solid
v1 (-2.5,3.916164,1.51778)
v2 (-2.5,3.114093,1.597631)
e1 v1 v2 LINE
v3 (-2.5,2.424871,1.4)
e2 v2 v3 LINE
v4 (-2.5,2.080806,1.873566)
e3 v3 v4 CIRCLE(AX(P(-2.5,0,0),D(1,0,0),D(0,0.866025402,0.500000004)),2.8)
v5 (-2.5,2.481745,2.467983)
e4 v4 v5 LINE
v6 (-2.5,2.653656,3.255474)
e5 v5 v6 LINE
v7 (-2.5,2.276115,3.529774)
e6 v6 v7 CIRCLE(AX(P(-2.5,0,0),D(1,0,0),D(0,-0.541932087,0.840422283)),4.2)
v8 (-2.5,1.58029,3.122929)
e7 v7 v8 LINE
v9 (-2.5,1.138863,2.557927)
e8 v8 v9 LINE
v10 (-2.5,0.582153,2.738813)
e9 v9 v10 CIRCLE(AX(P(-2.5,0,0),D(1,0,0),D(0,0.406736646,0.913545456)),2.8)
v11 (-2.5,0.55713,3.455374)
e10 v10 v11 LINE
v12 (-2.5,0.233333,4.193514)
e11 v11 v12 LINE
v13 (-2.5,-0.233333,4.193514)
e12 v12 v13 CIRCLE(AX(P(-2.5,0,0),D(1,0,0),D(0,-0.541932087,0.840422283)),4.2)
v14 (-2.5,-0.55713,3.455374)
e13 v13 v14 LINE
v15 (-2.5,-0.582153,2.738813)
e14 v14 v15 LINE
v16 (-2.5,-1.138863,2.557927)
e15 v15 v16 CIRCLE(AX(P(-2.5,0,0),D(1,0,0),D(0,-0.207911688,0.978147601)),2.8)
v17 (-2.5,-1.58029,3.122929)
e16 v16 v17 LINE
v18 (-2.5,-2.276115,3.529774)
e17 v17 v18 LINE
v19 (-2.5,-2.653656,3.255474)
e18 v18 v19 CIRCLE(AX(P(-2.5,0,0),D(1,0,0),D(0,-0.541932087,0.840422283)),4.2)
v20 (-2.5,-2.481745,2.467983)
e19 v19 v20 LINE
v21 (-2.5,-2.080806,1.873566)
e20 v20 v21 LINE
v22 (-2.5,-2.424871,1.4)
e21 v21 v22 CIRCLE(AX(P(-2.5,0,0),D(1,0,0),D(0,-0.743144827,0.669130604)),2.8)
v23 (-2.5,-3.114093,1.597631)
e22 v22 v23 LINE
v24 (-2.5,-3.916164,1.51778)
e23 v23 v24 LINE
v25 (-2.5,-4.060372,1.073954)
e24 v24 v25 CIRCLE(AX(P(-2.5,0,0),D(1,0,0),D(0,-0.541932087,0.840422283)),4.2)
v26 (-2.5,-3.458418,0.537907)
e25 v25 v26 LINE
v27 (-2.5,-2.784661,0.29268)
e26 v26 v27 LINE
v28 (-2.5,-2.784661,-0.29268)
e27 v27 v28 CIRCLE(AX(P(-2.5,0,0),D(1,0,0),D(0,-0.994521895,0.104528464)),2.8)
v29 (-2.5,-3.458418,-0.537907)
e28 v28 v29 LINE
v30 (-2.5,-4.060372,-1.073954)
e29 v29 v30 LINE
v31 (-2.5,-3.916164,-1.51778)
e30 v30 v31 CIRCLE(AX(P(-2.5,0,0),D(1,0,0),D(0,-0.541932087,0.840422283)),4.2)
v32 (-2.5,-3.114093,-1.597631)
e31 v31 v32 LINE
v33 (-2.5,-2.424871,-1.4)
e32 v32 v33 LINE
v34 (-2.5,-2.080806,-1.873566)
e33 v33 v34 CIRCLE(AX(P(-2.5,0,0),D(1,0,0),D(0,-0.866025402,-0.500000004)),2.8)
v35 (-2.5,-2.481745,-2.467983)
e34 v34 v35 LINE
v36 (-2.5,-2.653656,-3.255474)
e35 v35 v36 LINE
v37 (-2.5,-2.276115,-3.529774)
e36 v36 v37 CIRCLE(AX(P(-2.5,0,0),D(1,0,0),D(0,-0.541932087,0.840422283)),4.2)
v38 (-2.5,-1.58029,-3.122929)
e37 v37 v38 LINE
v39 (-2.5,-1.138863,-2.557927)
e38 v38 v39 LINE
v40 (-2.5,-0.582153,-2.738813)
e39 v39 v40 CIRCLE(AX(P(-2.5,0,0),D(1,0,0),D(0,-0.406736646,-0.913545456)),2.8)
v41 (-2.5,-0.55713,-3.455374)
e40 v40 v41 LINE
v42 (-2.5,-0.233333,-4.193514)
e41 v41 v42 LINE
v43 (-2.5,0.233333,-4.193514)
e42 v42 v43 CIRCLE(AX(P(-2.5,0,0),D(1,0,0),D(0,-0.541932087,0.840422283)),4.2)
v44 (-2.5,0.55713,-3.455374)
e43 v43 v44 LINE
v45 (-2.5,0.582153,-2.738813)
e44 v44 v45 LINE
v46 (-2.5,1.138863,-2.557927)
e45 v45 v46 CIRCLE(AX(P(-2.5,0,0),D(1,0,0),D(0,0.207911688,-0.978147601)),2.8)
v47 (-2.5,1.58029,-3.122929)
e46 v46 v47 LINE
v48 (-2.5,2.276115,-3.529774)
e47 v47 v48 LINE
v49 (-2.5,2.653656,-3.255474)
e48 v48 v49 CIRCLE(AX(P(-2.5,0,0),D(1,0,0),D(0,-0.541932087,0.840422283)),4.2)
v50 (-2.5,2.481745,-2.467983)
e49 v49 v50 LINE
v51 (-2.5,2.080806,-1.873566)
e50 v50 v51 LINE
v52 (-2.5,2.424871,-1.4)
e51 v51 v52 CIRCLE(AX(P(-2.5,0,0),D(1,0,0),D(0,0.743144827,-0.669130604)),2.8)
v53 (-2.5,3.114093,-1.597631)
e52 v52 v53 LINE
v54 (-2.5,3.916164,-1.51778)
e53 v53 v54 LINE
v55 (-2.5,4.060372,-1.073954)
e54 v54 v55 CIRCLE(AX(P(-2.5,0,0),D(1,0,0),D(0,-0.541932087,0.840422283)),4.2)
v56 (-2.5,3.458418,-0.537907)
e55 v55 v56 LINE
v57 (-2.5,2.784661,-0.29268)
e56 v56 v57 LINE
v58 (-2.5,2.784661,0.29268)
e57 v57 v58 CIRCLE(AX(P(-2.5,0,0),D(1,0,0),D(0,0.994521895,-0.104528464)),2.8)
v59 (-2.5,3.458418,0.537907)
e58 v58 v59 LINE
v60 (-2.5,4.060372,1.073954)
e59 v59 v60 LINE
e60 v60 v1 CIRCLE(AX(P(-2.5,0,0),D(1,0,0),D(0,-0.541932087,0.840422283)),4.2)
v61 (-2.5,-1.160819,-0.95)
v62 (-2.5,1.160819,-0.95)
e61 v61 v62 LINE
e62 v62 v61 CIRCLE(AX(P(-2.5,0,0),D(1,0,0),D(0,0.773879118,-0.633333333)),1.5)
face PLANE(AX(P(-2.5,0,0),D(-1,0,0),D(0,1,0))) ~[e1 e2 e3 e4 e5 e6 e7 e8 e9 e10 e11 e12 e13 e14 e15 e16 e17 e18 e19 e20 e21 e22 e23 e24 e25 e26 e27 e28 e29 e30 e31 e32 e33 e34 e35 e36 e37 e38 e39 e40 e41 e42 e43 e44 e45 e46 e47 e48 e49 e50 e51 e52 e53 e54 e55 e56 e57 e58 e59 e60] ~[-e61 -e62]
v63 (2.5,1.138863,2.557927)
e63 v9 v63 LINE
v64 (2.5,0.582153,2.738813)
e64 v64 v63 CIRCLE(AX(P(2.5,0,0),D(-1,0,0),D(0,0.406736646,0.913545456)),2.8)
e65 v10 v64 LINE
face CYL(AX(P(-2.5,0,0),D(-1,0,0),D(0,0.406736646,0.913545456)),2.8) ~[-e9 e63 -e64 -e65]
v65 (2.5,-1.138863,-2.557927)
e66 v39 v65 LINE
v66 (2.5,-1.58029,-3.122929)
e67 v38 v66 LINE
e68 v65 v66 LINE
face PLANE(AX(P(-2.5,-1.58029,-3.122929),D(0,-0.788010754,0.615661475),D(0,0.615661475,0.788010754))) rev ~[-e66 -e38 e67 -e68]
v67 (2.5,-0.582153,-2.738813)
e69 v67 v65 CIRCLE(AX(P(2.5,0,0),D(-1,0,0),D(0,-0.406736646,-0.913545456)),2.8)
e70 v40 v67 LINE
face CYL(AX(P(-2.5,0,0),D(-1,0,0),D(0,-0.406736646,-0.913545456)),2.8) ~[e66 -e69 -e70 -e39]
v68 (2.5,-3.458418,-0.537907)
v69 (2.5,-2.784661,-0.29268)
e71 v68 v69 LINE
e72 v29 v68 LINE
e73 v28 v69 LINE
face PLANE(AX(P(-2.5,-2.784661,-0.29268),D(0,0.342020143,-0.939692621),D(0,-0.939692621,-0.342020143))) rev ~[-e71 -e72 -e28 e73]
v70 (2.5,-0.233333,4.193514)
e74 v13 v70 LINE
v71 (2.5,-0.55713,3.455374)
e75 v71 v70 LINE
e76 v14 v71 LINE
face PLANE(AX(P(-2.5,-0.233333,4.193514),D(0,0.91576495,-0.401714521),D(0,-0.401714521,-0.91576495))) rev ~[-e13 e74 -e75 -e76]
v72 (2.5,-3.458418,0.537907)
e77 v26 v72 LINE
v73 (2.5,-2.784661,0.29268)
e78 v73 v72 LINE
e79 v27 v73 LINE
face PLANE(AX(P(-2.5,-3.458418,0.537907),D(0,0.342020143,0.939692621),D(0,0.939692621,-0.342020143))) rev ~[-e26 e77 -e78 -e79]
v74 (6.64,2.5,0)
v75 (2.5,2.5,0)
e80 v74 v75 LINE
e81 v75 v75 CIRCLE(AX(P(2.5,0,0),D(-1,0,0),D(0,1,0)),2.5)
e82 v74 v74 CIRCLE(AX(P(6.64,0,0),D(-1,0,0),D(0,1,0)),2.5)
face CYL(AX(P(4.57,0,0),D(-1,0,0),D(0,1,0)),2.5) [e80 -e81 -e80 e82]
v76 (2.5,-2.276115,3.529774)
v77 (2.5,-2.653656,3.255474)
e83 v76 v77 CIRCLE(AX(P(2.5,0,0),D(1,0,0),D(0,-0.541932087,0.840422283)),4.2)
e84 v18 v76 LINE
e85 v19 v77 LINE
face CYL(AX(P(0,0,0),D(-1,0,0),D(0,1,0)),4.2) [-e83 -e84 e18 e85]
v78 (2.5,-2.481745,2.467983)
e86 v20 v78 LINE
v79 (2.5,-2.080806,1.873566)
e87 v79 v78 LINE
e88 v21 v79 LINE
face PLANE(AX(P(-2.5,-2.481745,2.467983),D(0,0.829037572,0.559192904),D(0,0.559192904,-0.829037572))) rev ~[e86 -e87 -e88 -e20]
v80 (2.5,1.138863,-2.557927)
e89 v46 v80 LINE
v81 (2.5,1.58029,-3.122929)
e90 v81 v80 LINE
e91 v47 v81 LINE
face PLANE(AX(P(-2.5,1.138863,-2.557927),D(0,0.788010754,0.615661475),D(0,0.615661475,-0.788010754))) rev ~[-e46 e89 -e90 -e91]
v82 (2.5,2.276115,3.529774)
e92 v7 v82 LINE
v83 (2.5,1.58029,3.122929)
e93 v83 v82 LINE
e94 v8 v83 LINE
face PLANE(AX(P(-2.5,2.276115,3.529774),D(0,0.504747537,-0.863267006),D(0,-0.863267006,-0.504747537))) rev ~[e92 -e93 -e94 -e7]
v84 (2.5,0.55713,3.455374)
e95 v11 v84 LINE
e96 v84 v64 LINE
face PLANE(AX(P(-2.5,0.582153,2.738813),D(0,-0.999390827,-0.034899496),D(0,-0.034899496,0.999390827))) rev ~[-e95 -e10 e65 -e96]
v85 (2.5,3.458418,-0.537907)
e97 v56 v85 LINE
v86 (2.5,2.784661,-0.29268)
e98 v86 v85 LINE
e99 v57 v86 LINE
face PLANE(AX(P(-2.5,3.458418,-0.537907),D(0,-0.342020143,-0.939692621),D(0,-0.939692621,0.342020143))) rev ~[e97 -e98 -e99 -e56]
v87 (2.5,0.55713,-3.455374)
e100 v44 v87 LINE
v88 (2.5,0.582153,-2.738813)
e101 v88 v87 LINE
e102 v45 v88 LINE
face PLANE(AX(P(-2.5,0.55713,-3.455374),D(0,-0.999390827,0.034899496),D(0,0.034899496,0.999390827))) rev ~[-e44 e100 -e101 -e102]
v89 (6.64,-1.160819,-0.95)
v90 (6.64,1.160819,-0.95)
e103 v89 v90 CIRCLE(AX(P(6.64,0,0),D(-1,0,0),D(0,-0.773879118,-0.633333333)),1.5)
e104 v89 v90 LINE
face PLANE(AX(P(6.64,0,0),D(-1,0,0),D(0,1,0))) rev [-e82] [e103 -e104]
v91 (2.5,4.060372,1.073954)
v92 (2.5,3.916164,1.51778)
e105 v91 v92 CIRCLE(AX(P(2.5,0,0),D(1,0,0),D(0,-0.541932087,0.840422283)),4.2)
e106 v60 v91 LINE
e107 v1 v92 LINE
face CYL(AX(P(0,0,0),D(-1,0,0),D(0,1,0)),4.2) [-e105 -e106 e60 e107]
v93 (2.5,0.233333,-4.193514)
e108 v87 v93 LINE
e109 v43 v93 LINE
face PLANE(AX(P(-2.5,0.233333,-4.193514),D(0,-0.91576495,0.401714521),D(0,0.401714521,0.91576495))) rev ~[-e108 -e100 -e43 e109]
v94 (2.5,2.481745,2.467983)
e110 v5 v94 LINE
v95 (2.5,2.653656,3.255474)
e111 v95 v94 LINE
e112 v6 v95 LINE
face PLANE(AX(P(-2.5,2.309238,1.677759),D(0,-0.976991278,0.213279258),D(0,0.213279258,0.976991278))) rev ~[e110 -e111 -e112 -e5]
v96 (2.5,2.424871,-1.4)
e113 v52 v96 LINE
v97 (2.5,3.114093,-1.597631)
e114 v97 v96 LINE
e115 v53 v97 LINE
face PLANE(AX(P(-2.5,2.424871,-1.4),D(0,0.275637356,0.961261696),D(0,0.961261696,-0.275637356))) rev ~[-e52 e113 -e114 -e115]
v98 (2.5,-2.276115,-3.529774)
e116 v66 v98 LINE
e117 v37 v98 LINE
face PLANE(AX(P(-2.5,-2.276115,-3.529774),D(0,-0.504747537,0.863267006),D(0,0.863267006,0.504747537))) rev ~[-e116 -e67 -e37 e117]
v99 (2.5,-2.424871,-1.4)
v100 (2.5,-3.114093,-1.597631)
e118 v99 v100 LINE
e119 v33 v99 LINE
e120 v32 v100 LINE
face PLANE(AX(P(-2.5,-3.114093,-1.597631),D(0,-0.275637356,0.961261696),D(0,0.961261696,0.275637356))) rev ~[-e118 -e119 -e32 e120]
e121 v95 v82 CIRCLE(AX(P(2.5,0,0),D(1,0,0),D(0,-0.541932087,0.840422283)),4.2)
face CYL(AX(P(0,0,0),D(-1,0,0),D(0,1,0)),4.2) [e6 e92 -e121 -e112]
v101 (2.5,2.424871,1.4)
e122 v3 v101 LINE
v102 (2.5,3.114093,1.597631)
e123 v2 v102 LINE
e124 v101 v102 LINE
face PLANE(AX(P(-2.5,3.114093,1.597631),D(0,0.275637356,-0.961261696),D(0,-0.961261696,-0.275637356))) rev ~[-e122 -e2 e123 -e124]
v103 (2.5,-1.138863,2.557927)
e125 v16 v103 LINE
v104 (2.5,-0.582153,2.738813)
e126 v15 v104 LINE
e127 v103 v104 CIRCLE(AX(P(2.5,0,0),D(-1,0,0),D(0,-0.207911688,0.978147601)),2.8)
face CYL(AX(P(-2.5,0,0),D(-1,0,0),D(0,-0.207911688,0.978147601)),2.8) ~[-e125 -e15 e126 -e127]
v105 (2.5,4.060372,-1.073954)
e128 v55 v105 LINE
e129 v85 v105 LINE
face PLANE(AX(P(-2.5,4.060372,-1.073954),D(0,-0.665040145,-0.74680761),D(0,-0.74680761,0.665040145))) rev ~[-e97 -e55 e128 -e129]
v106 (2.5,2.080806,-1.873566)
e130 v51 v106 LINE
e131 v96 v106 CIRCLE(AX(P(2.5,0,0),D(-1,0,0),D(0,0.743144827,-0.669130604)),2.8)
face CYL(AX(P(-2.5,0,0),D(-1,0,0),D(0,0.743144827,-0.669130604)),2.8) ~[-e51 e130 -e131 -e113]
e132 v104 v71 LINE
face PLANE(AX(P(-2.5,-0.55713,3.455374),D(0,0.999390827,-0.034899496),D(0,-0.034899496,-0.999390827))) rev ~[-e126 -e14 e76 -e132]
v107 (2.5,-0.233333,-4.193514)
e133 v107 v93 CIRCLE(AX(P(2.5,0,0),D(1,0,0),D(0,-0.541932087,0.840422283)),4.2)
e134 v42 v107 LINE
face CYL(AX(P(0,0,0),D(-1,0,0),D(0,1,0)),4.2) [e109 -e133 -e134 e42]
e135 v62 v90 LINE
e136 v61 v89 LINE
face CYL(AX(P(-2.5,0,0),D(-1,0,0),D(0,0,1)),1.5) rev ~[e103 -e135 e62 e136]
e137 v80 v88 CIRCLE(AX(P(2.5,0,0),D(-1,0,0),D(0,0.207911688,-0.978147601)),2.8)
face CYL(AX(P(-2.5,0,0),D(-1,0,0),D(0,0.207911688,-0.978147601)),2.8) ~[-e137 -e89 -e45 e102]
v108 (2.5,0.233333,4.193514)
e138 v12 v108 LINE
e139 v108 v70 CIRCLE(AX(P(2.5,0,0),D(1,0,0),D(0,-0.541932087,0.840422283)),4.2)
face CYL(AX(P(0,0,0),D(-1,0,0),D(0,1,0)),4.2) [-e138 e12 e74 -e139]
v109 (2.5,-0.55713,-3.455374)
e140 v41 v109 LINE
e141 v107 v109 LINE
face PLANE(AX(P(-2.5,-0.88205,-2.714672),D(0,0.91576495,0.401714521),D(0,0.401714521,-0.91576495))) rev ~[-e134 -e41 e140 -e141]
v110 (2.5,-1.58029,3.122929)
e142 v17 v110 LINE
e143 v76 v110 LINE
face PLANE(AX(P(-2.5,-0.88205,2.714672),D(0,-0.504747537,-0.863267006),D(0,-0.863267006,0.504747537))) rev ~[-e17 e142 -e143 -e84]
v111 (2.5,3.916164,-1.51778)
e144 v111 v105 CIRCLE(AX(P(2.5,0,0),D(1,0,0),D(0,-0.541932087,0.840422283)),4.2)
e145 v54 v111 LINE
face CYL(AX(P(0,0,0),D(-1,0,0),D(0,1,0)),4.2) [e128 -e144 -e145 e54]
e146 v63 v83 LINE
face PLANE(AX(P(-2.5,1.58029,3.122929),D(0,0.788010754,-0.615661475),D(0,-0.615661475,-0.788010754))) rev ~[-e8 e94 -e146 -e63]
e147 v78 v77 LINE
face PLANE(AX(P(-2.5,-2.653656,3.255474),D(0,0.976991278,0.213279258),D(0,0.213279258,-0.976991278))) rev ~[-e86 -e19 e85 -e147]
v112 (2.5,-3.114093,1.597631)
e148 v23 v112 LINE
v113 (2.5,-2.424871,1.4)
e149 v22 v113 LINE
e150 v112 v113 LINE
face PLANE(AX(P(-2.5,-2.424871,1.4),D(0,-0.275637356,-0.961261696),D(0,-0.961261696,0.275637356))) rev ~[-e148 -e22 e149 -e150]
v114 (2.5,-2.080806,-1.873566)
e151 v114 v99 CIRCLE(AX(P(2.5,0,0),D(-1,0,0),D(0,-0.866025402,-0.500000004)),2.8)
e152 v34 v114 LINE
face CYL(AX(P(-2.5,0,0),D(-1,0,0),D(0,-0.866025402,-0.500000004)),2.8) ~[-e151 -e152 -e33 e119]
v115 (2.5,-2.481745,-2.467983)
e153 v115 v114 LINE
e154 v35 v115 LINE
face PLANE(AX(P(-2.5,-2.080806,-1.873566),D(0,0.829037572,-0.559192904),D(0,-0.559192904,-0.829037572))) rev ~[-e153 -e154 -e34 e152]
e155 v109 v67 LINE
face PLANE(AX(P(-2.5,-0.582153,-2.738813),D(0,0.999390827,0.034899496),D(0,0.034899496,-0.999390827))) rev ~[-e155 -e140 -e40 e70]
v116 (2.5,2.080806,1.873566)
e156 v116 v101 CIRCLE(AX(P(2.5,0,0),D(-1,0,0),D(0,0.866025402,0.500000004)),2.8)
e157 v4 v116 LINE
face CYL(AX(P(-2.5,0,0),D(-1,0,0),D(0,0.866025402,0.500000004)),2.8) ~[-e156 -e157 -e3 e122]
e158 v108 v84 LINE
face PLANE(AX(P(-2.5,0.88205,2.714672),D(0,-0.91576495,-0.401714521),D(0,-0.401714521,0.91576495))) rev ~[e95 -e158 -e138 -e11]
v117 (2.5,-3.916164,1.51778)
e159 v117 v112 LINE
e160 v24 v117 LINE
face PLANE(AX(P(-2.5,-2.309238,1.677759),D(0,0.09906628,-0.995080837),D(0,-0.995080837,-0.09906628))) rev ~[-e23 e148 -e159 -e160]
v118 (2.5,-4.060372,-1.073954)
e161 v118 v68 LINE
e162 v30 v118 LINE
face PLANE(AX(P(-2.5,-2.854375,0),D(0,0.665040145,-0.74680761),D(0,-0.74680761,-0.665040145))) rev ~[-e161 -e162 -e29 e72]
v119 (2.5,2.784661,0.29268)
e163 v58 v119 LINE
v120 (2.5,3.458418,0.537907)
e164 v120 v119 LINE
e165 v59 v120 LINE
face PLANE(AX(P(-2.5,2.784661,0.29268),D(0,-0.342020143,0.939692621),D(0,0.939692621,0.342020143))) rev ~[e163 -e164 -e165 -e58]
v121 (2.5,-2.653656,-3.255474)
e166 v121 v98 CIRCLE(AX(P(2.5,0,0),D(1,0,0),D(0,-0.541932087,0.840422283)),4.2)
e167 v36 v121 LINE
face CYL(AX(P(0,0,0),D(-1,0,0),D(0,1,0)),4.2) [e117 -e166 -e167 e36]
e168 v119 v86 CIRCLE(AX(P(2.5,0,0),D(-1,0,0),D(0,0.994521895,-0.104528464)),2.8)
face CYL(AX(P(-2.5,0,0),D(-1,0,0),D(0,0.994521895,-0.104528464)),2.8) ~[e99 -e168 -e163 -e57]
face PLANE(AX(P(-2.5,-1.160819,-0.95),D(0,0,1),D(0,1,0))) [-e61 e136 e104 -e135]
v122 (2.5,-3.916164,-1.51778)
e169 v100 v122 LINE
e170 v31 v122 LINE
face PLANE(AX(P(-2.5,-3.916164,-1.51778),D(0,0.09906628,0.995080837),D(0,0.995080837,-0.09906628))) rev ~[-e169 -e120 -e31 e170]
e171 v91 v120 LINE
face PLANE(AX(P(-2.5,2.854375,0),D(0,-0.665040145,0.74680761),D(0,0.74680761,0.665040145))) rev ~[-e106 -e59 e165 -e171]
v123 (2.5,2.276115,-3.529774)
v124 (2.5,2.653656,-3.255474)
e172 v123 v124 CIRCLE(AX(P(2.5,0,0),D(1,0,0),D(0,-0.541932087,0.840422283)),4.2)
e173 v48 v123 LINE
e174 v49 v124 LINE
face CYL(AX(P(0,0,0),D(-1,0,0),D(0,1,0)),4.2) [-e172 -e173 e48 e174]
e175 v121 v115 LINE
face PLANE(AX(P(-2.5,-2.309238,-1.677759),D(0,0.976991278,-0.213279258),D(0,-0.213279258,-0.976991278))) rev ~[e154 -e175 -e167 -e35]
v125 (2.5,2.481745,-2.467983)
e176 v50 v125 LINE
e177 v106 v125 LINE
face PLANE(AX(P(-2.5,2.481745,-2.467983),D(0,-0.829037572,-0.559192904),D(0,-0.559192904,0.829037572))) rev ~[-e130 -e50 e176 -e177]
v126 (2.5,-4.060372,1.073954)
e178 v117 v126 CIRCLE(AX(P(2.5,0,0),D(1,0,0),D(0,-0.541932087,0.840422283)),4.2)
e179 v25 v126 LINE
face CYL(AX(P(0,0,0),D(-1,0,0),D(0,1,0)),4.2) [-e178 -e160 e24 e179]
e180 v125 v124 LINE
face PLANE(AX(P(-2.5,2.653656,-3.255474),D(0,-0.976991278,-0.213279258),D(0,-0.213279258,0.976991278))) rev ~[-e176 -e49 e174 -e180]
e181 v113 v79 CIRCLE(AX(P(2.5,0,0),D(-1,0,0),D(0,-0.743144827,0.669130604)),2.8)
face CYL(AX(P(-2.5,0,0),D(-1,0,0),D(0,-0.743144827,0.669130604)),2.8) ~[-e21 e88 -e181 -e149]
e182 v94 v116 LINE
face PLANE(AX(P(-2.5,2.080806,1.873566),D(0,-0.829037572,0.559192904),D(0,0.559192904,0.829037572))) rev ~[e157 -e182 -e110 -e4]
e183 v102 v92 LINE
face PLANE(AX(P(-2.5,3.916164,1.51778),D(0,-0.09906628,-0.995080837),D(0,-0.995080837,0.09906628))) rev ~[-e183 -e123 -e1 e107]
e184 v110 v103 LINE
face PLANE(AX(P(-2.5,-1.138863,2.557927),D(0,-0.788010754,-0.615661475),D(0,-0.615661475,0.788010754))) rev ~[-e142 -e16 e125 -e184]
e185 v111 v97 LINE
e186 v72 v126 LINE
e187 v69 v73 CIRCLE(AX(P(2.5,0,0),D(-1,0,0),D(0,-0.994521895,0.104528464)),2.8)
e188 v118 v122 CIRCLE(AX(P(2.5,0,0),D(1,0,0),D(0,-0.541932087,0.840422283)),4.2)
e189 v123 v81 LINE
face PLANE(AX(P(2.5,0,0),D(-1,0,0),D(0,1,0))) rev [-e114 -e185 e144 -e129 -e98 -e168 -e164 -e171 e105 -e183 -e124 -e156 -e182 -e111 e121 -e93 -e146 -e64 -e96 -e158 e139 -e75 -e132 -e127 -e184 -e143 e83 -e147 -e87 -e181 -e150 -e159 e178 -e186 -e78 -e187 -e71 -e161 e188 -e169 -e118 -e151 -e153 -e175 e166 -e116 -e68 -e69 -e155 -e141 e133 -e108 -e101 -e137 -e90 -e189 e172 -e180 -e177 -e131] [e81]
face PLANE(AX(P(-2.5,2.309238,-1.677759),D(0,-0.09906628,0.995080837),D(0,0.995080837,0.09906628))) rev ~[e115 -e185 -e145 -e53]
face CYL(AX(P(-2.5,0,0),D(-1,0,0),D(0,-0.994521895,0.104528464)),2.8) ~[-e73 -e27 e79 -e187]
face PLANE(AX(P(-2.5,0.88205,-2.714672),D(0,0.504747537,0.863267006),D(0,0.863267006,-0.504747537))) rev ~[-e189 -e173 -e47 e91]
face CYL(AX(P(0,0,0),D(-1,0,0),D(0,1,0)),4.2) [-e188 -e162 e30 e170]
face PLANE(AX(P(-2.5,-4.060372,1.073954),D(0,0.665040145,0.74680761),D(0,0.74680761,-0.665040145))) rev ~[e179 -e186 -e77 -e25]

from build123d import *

# Parameters (mm, degrees)
ESQUISSE1_W              = 5
ESQUISSE1_H              = 4.2
ENL_V_MAT_EXTRU_1_DEPTH  = 6
ENL_V_MAT_EXTRU_2_DEPTH  = 6
ENL_V_MAT_EXTRU_3_DEPTH  = 6
ENL_V_MAT_EXTRU_4_DEPTH  = 6
ENL_V_MAT_EXTRU_5_DEPTH  = 6
ENL_V_MAT_EXTRU_6_DEPTH  = 6
ENL_V_MAT_EXTRU_7_DEPTH  = 6
ENL_V_MAT_EXTRU_8_DEPTH  = 6
ENL_V_MAT_EXTRU_9_DEPTH  = 6
ENL_V_MAT_EXTRU_10_DEPTH = 6
ENL_V_MAT_EXTRU_11_DEPTH = 6
ENL_V_MAT_EXTRU_12_DEPTH = 6
ENL_V_MAT_EXTRU_13_DEPTH = 6
ENL_V_MAT_EXTRU_14_DEPTH = 6
ENL_V_MAT_EXTRU_15_DEPTH = 6
ENL_V_MAT_EXTRU_16_DEPTH = 6
ENL_V_MAT_EXTRU_17_DEPTH = 6
ENL_V_MAT_EXTRU_18_DEPTH = 6
ENL_V_MAT_EXTRU_19_DEPTH = 6
ENL_V_MAT_EXTRU_20_DEPTH = 6
ESQUISSE22_W             = 4.14
ESQUISSE22_H             = 2.5
ESQUISSE29_R             = 1.5
ENL_V_MAT_EXTRU_21_DEPTH = 10
BOSS_EXTRU_1_DEPTH       = 9.14


with BuildPart() as part:
    # Esquisse1 → Révolution1 (revolve)
    with BuildSketch(Plane(origin=(0, 0, 0), x_dir=(-1, 0, 0), z_dir=(0, 0, -1))):
        with Locations((0, 2.1)):
            Rectangle(ESQUISSE1_W, ESQUISSE1_H)
    revolve(axis=Axis((2.5, 0, 0), (-1, 0, 0)))

    # Esquisse2 → Enlèv. mat.-Extru.1 (cut, through all)
    with BuildSketch(Plane.ZY.offset(2.5)):
        with BuildLine():
            Line((4.19351351, -0.233333333), (2.714671649, -0.882050288))
            Line((2.714671649, -0.882050288), (3.529773588, -2.276114764))
            ThreePointArc((3.529773588, -2.276114764), (3.994437368, -1.297871376), (4.19351351, -0.233333333))
        make_face()
    extrude(amount=-ENL_V_MAT_EXTRU_1_DEPTH, mode=Mode.SUBTRACT)

    # Esquisse3 → Enlèv. mat.-Extru.2 (cut, through all)
    with BuildSketch(Plane.ZY.offset(2.5)):
        with BuildLine():
            Line((2.557927281, -1.138862601), (3.122928651, -1.58029005))
            Line((3.122928651, -1.58029005), (2.714671649, -0.882050288))
            Line((2.714671649, -0.882050288), (3.455373536, -0.557129899))
            Line((3.455373536, -0.557129899), (2.738813282, -0.582152734))
            ThreePointArc((2.738813282, -0.582152734), (2.662958246, -0.865247584), (2.557927281, -1.138862601))
        make_face()
    extrude(amount=-ENL_V_MAT_EXTRU_2_DEPTH, mode=Mode.SUBTRACT)

    # Esquisse4 → Enlèv. mat.-Extru.3 (cut, through all)
    with BuildSketch(Plane.ZY.offset(2.5)):
        with BuildLine():
            Line((3.255473803, -2.653656028), (1.677759348, -2.309237633))
            Line((1.677759348, -2.309237633), (1.517780128, -3.916164384))
            ThreePointArc((1.517780128, -3.916164384), (2.46869806, -3.397871376), (3.255473803, -2.653656028))
        make_face()
    extrude(amount=-ENL_V_MAT_EXTRU_3_DEPTH, mode=Mode.SUBTRACT)

    # Esquisse5 → Enlèv. mat.-Extru.4 (cut, through all)
    with BuildSketch(Plane.ZY.offset(2.5)):
        with BuildLine():
            Line((1.4, -2.424871131), (1.597631165, -3.114092911))
            Line((1.597631165, -3.114092911), (1.677759348, -2.309237633))
            Line((1.677759348, -2.309237633), (2.467983175, -2.481745162))
            Line((2.467983175, -2.481745162), (1.873565698, -2.080805511))
            ThreePointArc((1.873565698, -2.080805511), (1.645798706, -2.265247584), (1.4, -2.424871131))
        make_face()
    extrude(amount=-ENL_V_MAT_EXTRU_4_DEPTH, mode=Mode.SUBTRACT)

    # Esquisse6 → Enlèv. mat.-Extru.5 (cut, through all)
    with BuildSketch(Plane.ZY.offset(2.5)):
        with BuildLine():
            Line((1.073953753, -4.060372315), (0, -2.85437469))
            Line((0, -2.85437469), (-1.073953753, -4.060372315))
            ThreePointArc((-1.073953753, -4.060372315), (0, -4.2), (1.073953753, -4.060372315))
        make_face()
    extrude(amount=-ENL_V_MAT_EXTRU_5_DEPTH, mode=Mode.SUBTRACT)

    # Esquisse7 → Enlèv. mat.-Extru.6 (cut, through all)
    with BuildSketch(Plane.ZY.offset(2.5)):
        with BuildLine():
            Line((-0.292679697, -2.784661307), (-0.537907124, -3.458418125))
            Line((-0.537907124, -3.458418125), (0, -2.85437469))
            Line((0, -2.85437469), (0.537907124, -3.458418125))
            Line((0.537907124, -3.458418125), (0.292679697, -2.784661307))
            ThreePointArc((0.292679697, -2.784661307), (0, -2.8), (-0.292679697, -2.784661307))
        make_face()
    extrude(amount=-ENL_V_MAT_EXTRU_6_DEPTH, mode=Mode.SUBTRACT)

    # Esquisse8 → Enlèv. mat.-Extru.7 (cut, through all)
    with BuildSketch(Plane.ZY.offset(2.5)):
        with BuildLine():
            Line((-1.517780128, -3.916164384), (-1.677759348, -2.309237633))
            Line((-1.677759348, -2.309237633), (-3.255473803, -2.653656028))
            ThreePointArc((-3.255473803, -2.653656028), (-2.46869806, -3.397871376), (-1.517780128, -3.916164384))
        make_face()
    extrude(amount=-ENL_V_MAT_EXTRU_7_DEPTH, mode=Mode.SUBTRACT)

    # Esquisse9 → Enlèv. mat.-Extru.8 (cut, through all)
    with BuildSketch(Plane.ZY.offset(2.5)):
        with BuildLine():
            Line((-1.873565698, -2.080805511), (-2.467983175, -2.481745162))
            Line((-2.467983175, -2.481745162), (-1.677759348, -2.309237633))
            Line((-1.677759348, -2.309237633), (-1.597631165, -3.114092911))
            Line((-1.597631165, -3.114092911), (-1.4, -2.424871131))
            ThreePointArc((-1.4, -2.424871131), (-1.645798706, -2.265247584), (-1.873565698, -2.080805511))
        make_face()
    extrude(amount=-ENL_V_MAT_EXTRU_8_DEPTH, mode=Mode.SUBTRACT)

    # Esquisse10 → Enlèv. mat.-Extru.9 (cut, through all)
    with BuildSketch(Plane.ZY.offset(2.5)):
        with BuildLine():
            Line((-3.529773588, -2.276114764), (-2.714671649, -0.882050288))
            Line((-2.714671649, -0.882050288), (-4.19351351, -0.233333333))
            ThreePointArc((-4.19351351, -0.233333333), (-3.994437368, -1.297871376), (-3.529773588, -2.276114764))
        make_face()
    extrude(amount=-ENL_V_MAT_EXTRU_9_DEPTH, mode=Mode.SUBTRACT)

    # Esquisse11 → Enlèv. mat.-Extru.10 (cut, through all)
    with BuildSketch(Plane.ZY.offset(2.5)):
        with BuildLine():
            Line((-2.738813282, -0.582152734), (-3.455373536, -0.557129899))
            Line((-3.455373536, -0.557129899), (-2.714671649, -0.882050288))
            Line((-2.714671649, -0.882050288), (-3.122928651, -1.58029005))
            Line((-3.122928651, -1.58029005), (-2.557927281, -1.138862601))
            ThreePointArc((-2.557927281, -1.138862601), (-2.662958246, -0.865247584), (-2.738813282, -0.582152734))
        make_face()
    extrude(amount=-ENL_V_MAT_EXTRU_10_DEPTH, mode=Mode.SUBTRACT)

    # Esquisse12 → Enlèv. mat.-Extru.11 (cut, through all)
    with BuildSketch(Plane.ZY.offset(2.5)):
        with BuildLine():
            Line((-4.19351351, 0.233333333), (-2.714671649, 0.882050288))
            Line((-2.714671649, 0.882050288), (-3.529773588, 2.276114764))
            ThreePointArc((-3.529773588, 2.276114764), (-3.994437368, 1.297871376), (-4.19351351, 0.233333333))
        make_face()
    extrude(amount=-ENL_V_MAT_EXTRU_11_DEPTH, mode=Mode.SUBTRACT)

    # Esquisse13 → Enlèv. mat.-Extru.12 (cut, through all)
    with BuildSketch(Plane.ZY.offset(2.5)):
        with BuildLine():
            Line((-2.714671649, 0.882050288), (-3.455373536, 0.557129899))
            Line((-3.455373536, 0.557129899), (-2.738813282, 0.582152734))
            ThreePointArc((-2.738813282, 0.582152734), (-2.662958246, 0.865247584), (-2.557927281, 1.138862601))
            Line((-2.557927281, 1.138862601), (-3.122928651, 1.58029005))
            Line((-3.122928651, 1.58029005), (-2.714671649, 0.882050288))
        make_face()
    extrude(amount=-ENL_V_MAT_EXTRU_12_DEPTH, mode=Mode.SUBTRACT)

    # Esquisse14 → Enlèv. mat.-Extru.13 (cut, through all)
    with BuildSketch(Plane.ZY.offset(2.5)):
        with BuildLine():
            Line((-3.255473803, 2.653656028), (-1.677759348, 2.309237633))
            Line((-1.677759348, 2.309237633), (-1.517780128, 3.916164384))
            ThreePointArc((-1.517780128, 3.916164384), (-2.46869806, 3.397871376), (-3.255473803, 2.653656028))
        make_face()
    extrude(amount=-ENL_V_MAT_EXTRU_13_DEPTH, mode=Mode.SUBTRACT)

    # Esquisse15 → Enlèv. mat.-Extru.14 (cut, through all)
    with BuildSketch(Plane.ZY.offset(2.5)):
        with BuildLine():
            Line((-1.677759348, 2.309237633), (-2.467983175, 2.481745162))
            Line((-2.467983175, 2.481745162), (-1.873565698, 2.080805511))
            ThreePointArc((-1.873565698, 2.080805511), (-1.645798706, 2.265247584), (-1.4, 2.424871131))
            Line((-1.4, 2.424871131), (-1.597631165, 3.114092911))
            Line((-1.597631165, 3.114092911), (-1.677759348, 2.309237633))
        make_face()
    extrude(amount=-ENL_V_MAT_EXTRU_14_DEPTH, mode=Mode.SUBTRACT)

    # Esquisse16 → Enlèv. mat.-Extru.15 (cut, through all)
    with BuildSketch(Plane.ZY.offset(2.5)):
        with BuildLine():
            Line((-1.073953753, 4.060372315), (0, 2.85437469))
            Line((0, 2.85437469), (1.073953753, 4.060372315))
            ThreePointArc((1.073953753, 4.060372315), (0, 4.2), (-1.073953753, 4.060372315))
        make_face()
    extrude(amount=-ENL_V_MAT_EXTRU_15_DEPTH, mode=Mode.SUBTRACT)

    # Esquisse17 → Enlèv. mat.-Extru.16 (cut, through all)
    with BuildSketch(Plane.ZY.offset(2.5)):
        with BuildLine():
            Line((0, 2.85437469), (-0.537907124, 3.458418125))
            Line((-0.537907124, 3.458418125), (-0.292679697, 2.784661307))
            ThreePointArc((-0.292679697, 2.784661307), (0, 2.8), (0.292679697, 2.784661307))
            Line((0.292679697, 2.784661307), (0.537907124, 3.458418125))
            Line((0.537907124, 3.458418125), (0, 2.85437469))
        make_face()
    extrude(amount=-ENL_V_MAT_EXTRU_16_DEPTH, mode=Mode.SUBTRACT)

    # Esquisse18 → Enlèv. mat.-Extru.17 (cut, through all)
    with BuildSketch(Plane.ZY.offset(2.5)):
        with BuildLine():
            Line((1.517780128, 3.916164384), (1.677759348, 2.309237633))
            Line((1.677759348, 2.309237633), (3.255473803, 2.653656028))
            ThreePointArc((3.255473803, 2.653656028), (2.46869806, 3.397871376), (1.517780128, 3.916164384))
        make_face()
    extrude(amount=-ENL_V_MAT_EXTRU_17_DEPTH, mode=Mode.SUBTRACT)

    # Esquisse19 → Enlèv. mat.-Extru.18 (cut, through all)
    with BuildSketch(Plane.ZY.offset(2.5)):
        with BuildLine():
            Line((1.677759348, 2.309237633), (1.597631165, 3.114092911))
            Line((1.597631165, 3.114092911), (1.4, 2.424871131))
            ThreePointArc((1.4, 2.424871131), (1.645798706, 2.265247584), (1.873565698, 2.080805511))
            Line((1.873565698, 2.080805511), (2.467983175, 2.481745162))
            Line((2.467983175, 2.481745162), (1.677759348, 2.309237633))
        make_face()
    extrude(amount=-ENL_V_MAT_EXTRU_18_DEPTH, mode=Mode.SUBTRACT)

    # Esquisse20 → Enlèv. mat.-Extru.19 (cut, through all)
    with BuildSketch(Plane.ZY.offset(2.5)):
        with BuildLine():
            Line((3.529773588, 2.276114764), (2.714671649, 0.882050288))
            Line((2.714671649, 0.882050288), (4.19351351, 0.233333333))
            ThreePointArc((4.19351351, 0.233333333), (3.994437368, 1.297871376), (3.529773588, 2.276114764))
        make_face()
    extrude(amount=-ENL_V_MAT_EXTRU_19_DEPTH, mode=Mode.SUBTRACT)

    # Esquisse21 → Enlèv. mat.-Extru.20 (cut, through all)
    with BuildSketch(Plane.ZY.offset(2.5)):
        with BuildLine():
            Line((2.714671649, 0.882050288), (3.122928651, 1.58029005))
            Line((3.122928651, 1.58029005), (2.557927281, 1.138862601))
            ThreePointArc((2.557927281, 1.138862601), (2.662958246, 0.865247584), (2.738813282, 0.582152734))
            Line((2.738813282, 0.582152734), (3.455373536, 0.557129899))
            Line((3.455373536, 0.557129899), (2.714671649, 0.882050288))
        make_face()
    extrude(amount=-ENL_V_MAT_EXTRU_20_DEPTH, mode=Mode.SUBTRACT)

    # Esquisse22 → Révolution2 (revolve)
    with BuildSketch(Plane(origin=(0, 0, 0), x_dir=(-1, 0, 0), z_dir=(0, 0, -1))):
        with Locations((-4.57, 1.25)):
            Rectangle(ESQUISSE22_W, ESQUISSE22_H)
    revolve(axis=Axis((6.64, 0, 0), (-1, 0, 0)))

    # Esquisse29 → Enlèv. mat.-Extru.21 (cut)
    with BuildSketch(Plane.ZY.offset(2.5)):
        Circle(ESQUISSE29_R)
    extrude(amount=-ENL_V_MAT_EXTRU_21_DEPTH, mode=Mode.SUBTRACT)

    # Esquisse31 → Boss.-Extru.1 (add)
    with BuildSketch(Plane.ZY.offset(2.5)):
        with BuildLine():
            Line((-0.95, 0), (-0.95, 1.160818677))
            ThreePointArc((-0.95, 1.160818677), (-1.5, 0), (-0.95, -1.160818677))
            Line((-0.95, -1.160818677), (-0.95, 0))
        make_face()
    extrude(amount=-BOSS_EXTRU_1_DEPTH)


solid = part.part
